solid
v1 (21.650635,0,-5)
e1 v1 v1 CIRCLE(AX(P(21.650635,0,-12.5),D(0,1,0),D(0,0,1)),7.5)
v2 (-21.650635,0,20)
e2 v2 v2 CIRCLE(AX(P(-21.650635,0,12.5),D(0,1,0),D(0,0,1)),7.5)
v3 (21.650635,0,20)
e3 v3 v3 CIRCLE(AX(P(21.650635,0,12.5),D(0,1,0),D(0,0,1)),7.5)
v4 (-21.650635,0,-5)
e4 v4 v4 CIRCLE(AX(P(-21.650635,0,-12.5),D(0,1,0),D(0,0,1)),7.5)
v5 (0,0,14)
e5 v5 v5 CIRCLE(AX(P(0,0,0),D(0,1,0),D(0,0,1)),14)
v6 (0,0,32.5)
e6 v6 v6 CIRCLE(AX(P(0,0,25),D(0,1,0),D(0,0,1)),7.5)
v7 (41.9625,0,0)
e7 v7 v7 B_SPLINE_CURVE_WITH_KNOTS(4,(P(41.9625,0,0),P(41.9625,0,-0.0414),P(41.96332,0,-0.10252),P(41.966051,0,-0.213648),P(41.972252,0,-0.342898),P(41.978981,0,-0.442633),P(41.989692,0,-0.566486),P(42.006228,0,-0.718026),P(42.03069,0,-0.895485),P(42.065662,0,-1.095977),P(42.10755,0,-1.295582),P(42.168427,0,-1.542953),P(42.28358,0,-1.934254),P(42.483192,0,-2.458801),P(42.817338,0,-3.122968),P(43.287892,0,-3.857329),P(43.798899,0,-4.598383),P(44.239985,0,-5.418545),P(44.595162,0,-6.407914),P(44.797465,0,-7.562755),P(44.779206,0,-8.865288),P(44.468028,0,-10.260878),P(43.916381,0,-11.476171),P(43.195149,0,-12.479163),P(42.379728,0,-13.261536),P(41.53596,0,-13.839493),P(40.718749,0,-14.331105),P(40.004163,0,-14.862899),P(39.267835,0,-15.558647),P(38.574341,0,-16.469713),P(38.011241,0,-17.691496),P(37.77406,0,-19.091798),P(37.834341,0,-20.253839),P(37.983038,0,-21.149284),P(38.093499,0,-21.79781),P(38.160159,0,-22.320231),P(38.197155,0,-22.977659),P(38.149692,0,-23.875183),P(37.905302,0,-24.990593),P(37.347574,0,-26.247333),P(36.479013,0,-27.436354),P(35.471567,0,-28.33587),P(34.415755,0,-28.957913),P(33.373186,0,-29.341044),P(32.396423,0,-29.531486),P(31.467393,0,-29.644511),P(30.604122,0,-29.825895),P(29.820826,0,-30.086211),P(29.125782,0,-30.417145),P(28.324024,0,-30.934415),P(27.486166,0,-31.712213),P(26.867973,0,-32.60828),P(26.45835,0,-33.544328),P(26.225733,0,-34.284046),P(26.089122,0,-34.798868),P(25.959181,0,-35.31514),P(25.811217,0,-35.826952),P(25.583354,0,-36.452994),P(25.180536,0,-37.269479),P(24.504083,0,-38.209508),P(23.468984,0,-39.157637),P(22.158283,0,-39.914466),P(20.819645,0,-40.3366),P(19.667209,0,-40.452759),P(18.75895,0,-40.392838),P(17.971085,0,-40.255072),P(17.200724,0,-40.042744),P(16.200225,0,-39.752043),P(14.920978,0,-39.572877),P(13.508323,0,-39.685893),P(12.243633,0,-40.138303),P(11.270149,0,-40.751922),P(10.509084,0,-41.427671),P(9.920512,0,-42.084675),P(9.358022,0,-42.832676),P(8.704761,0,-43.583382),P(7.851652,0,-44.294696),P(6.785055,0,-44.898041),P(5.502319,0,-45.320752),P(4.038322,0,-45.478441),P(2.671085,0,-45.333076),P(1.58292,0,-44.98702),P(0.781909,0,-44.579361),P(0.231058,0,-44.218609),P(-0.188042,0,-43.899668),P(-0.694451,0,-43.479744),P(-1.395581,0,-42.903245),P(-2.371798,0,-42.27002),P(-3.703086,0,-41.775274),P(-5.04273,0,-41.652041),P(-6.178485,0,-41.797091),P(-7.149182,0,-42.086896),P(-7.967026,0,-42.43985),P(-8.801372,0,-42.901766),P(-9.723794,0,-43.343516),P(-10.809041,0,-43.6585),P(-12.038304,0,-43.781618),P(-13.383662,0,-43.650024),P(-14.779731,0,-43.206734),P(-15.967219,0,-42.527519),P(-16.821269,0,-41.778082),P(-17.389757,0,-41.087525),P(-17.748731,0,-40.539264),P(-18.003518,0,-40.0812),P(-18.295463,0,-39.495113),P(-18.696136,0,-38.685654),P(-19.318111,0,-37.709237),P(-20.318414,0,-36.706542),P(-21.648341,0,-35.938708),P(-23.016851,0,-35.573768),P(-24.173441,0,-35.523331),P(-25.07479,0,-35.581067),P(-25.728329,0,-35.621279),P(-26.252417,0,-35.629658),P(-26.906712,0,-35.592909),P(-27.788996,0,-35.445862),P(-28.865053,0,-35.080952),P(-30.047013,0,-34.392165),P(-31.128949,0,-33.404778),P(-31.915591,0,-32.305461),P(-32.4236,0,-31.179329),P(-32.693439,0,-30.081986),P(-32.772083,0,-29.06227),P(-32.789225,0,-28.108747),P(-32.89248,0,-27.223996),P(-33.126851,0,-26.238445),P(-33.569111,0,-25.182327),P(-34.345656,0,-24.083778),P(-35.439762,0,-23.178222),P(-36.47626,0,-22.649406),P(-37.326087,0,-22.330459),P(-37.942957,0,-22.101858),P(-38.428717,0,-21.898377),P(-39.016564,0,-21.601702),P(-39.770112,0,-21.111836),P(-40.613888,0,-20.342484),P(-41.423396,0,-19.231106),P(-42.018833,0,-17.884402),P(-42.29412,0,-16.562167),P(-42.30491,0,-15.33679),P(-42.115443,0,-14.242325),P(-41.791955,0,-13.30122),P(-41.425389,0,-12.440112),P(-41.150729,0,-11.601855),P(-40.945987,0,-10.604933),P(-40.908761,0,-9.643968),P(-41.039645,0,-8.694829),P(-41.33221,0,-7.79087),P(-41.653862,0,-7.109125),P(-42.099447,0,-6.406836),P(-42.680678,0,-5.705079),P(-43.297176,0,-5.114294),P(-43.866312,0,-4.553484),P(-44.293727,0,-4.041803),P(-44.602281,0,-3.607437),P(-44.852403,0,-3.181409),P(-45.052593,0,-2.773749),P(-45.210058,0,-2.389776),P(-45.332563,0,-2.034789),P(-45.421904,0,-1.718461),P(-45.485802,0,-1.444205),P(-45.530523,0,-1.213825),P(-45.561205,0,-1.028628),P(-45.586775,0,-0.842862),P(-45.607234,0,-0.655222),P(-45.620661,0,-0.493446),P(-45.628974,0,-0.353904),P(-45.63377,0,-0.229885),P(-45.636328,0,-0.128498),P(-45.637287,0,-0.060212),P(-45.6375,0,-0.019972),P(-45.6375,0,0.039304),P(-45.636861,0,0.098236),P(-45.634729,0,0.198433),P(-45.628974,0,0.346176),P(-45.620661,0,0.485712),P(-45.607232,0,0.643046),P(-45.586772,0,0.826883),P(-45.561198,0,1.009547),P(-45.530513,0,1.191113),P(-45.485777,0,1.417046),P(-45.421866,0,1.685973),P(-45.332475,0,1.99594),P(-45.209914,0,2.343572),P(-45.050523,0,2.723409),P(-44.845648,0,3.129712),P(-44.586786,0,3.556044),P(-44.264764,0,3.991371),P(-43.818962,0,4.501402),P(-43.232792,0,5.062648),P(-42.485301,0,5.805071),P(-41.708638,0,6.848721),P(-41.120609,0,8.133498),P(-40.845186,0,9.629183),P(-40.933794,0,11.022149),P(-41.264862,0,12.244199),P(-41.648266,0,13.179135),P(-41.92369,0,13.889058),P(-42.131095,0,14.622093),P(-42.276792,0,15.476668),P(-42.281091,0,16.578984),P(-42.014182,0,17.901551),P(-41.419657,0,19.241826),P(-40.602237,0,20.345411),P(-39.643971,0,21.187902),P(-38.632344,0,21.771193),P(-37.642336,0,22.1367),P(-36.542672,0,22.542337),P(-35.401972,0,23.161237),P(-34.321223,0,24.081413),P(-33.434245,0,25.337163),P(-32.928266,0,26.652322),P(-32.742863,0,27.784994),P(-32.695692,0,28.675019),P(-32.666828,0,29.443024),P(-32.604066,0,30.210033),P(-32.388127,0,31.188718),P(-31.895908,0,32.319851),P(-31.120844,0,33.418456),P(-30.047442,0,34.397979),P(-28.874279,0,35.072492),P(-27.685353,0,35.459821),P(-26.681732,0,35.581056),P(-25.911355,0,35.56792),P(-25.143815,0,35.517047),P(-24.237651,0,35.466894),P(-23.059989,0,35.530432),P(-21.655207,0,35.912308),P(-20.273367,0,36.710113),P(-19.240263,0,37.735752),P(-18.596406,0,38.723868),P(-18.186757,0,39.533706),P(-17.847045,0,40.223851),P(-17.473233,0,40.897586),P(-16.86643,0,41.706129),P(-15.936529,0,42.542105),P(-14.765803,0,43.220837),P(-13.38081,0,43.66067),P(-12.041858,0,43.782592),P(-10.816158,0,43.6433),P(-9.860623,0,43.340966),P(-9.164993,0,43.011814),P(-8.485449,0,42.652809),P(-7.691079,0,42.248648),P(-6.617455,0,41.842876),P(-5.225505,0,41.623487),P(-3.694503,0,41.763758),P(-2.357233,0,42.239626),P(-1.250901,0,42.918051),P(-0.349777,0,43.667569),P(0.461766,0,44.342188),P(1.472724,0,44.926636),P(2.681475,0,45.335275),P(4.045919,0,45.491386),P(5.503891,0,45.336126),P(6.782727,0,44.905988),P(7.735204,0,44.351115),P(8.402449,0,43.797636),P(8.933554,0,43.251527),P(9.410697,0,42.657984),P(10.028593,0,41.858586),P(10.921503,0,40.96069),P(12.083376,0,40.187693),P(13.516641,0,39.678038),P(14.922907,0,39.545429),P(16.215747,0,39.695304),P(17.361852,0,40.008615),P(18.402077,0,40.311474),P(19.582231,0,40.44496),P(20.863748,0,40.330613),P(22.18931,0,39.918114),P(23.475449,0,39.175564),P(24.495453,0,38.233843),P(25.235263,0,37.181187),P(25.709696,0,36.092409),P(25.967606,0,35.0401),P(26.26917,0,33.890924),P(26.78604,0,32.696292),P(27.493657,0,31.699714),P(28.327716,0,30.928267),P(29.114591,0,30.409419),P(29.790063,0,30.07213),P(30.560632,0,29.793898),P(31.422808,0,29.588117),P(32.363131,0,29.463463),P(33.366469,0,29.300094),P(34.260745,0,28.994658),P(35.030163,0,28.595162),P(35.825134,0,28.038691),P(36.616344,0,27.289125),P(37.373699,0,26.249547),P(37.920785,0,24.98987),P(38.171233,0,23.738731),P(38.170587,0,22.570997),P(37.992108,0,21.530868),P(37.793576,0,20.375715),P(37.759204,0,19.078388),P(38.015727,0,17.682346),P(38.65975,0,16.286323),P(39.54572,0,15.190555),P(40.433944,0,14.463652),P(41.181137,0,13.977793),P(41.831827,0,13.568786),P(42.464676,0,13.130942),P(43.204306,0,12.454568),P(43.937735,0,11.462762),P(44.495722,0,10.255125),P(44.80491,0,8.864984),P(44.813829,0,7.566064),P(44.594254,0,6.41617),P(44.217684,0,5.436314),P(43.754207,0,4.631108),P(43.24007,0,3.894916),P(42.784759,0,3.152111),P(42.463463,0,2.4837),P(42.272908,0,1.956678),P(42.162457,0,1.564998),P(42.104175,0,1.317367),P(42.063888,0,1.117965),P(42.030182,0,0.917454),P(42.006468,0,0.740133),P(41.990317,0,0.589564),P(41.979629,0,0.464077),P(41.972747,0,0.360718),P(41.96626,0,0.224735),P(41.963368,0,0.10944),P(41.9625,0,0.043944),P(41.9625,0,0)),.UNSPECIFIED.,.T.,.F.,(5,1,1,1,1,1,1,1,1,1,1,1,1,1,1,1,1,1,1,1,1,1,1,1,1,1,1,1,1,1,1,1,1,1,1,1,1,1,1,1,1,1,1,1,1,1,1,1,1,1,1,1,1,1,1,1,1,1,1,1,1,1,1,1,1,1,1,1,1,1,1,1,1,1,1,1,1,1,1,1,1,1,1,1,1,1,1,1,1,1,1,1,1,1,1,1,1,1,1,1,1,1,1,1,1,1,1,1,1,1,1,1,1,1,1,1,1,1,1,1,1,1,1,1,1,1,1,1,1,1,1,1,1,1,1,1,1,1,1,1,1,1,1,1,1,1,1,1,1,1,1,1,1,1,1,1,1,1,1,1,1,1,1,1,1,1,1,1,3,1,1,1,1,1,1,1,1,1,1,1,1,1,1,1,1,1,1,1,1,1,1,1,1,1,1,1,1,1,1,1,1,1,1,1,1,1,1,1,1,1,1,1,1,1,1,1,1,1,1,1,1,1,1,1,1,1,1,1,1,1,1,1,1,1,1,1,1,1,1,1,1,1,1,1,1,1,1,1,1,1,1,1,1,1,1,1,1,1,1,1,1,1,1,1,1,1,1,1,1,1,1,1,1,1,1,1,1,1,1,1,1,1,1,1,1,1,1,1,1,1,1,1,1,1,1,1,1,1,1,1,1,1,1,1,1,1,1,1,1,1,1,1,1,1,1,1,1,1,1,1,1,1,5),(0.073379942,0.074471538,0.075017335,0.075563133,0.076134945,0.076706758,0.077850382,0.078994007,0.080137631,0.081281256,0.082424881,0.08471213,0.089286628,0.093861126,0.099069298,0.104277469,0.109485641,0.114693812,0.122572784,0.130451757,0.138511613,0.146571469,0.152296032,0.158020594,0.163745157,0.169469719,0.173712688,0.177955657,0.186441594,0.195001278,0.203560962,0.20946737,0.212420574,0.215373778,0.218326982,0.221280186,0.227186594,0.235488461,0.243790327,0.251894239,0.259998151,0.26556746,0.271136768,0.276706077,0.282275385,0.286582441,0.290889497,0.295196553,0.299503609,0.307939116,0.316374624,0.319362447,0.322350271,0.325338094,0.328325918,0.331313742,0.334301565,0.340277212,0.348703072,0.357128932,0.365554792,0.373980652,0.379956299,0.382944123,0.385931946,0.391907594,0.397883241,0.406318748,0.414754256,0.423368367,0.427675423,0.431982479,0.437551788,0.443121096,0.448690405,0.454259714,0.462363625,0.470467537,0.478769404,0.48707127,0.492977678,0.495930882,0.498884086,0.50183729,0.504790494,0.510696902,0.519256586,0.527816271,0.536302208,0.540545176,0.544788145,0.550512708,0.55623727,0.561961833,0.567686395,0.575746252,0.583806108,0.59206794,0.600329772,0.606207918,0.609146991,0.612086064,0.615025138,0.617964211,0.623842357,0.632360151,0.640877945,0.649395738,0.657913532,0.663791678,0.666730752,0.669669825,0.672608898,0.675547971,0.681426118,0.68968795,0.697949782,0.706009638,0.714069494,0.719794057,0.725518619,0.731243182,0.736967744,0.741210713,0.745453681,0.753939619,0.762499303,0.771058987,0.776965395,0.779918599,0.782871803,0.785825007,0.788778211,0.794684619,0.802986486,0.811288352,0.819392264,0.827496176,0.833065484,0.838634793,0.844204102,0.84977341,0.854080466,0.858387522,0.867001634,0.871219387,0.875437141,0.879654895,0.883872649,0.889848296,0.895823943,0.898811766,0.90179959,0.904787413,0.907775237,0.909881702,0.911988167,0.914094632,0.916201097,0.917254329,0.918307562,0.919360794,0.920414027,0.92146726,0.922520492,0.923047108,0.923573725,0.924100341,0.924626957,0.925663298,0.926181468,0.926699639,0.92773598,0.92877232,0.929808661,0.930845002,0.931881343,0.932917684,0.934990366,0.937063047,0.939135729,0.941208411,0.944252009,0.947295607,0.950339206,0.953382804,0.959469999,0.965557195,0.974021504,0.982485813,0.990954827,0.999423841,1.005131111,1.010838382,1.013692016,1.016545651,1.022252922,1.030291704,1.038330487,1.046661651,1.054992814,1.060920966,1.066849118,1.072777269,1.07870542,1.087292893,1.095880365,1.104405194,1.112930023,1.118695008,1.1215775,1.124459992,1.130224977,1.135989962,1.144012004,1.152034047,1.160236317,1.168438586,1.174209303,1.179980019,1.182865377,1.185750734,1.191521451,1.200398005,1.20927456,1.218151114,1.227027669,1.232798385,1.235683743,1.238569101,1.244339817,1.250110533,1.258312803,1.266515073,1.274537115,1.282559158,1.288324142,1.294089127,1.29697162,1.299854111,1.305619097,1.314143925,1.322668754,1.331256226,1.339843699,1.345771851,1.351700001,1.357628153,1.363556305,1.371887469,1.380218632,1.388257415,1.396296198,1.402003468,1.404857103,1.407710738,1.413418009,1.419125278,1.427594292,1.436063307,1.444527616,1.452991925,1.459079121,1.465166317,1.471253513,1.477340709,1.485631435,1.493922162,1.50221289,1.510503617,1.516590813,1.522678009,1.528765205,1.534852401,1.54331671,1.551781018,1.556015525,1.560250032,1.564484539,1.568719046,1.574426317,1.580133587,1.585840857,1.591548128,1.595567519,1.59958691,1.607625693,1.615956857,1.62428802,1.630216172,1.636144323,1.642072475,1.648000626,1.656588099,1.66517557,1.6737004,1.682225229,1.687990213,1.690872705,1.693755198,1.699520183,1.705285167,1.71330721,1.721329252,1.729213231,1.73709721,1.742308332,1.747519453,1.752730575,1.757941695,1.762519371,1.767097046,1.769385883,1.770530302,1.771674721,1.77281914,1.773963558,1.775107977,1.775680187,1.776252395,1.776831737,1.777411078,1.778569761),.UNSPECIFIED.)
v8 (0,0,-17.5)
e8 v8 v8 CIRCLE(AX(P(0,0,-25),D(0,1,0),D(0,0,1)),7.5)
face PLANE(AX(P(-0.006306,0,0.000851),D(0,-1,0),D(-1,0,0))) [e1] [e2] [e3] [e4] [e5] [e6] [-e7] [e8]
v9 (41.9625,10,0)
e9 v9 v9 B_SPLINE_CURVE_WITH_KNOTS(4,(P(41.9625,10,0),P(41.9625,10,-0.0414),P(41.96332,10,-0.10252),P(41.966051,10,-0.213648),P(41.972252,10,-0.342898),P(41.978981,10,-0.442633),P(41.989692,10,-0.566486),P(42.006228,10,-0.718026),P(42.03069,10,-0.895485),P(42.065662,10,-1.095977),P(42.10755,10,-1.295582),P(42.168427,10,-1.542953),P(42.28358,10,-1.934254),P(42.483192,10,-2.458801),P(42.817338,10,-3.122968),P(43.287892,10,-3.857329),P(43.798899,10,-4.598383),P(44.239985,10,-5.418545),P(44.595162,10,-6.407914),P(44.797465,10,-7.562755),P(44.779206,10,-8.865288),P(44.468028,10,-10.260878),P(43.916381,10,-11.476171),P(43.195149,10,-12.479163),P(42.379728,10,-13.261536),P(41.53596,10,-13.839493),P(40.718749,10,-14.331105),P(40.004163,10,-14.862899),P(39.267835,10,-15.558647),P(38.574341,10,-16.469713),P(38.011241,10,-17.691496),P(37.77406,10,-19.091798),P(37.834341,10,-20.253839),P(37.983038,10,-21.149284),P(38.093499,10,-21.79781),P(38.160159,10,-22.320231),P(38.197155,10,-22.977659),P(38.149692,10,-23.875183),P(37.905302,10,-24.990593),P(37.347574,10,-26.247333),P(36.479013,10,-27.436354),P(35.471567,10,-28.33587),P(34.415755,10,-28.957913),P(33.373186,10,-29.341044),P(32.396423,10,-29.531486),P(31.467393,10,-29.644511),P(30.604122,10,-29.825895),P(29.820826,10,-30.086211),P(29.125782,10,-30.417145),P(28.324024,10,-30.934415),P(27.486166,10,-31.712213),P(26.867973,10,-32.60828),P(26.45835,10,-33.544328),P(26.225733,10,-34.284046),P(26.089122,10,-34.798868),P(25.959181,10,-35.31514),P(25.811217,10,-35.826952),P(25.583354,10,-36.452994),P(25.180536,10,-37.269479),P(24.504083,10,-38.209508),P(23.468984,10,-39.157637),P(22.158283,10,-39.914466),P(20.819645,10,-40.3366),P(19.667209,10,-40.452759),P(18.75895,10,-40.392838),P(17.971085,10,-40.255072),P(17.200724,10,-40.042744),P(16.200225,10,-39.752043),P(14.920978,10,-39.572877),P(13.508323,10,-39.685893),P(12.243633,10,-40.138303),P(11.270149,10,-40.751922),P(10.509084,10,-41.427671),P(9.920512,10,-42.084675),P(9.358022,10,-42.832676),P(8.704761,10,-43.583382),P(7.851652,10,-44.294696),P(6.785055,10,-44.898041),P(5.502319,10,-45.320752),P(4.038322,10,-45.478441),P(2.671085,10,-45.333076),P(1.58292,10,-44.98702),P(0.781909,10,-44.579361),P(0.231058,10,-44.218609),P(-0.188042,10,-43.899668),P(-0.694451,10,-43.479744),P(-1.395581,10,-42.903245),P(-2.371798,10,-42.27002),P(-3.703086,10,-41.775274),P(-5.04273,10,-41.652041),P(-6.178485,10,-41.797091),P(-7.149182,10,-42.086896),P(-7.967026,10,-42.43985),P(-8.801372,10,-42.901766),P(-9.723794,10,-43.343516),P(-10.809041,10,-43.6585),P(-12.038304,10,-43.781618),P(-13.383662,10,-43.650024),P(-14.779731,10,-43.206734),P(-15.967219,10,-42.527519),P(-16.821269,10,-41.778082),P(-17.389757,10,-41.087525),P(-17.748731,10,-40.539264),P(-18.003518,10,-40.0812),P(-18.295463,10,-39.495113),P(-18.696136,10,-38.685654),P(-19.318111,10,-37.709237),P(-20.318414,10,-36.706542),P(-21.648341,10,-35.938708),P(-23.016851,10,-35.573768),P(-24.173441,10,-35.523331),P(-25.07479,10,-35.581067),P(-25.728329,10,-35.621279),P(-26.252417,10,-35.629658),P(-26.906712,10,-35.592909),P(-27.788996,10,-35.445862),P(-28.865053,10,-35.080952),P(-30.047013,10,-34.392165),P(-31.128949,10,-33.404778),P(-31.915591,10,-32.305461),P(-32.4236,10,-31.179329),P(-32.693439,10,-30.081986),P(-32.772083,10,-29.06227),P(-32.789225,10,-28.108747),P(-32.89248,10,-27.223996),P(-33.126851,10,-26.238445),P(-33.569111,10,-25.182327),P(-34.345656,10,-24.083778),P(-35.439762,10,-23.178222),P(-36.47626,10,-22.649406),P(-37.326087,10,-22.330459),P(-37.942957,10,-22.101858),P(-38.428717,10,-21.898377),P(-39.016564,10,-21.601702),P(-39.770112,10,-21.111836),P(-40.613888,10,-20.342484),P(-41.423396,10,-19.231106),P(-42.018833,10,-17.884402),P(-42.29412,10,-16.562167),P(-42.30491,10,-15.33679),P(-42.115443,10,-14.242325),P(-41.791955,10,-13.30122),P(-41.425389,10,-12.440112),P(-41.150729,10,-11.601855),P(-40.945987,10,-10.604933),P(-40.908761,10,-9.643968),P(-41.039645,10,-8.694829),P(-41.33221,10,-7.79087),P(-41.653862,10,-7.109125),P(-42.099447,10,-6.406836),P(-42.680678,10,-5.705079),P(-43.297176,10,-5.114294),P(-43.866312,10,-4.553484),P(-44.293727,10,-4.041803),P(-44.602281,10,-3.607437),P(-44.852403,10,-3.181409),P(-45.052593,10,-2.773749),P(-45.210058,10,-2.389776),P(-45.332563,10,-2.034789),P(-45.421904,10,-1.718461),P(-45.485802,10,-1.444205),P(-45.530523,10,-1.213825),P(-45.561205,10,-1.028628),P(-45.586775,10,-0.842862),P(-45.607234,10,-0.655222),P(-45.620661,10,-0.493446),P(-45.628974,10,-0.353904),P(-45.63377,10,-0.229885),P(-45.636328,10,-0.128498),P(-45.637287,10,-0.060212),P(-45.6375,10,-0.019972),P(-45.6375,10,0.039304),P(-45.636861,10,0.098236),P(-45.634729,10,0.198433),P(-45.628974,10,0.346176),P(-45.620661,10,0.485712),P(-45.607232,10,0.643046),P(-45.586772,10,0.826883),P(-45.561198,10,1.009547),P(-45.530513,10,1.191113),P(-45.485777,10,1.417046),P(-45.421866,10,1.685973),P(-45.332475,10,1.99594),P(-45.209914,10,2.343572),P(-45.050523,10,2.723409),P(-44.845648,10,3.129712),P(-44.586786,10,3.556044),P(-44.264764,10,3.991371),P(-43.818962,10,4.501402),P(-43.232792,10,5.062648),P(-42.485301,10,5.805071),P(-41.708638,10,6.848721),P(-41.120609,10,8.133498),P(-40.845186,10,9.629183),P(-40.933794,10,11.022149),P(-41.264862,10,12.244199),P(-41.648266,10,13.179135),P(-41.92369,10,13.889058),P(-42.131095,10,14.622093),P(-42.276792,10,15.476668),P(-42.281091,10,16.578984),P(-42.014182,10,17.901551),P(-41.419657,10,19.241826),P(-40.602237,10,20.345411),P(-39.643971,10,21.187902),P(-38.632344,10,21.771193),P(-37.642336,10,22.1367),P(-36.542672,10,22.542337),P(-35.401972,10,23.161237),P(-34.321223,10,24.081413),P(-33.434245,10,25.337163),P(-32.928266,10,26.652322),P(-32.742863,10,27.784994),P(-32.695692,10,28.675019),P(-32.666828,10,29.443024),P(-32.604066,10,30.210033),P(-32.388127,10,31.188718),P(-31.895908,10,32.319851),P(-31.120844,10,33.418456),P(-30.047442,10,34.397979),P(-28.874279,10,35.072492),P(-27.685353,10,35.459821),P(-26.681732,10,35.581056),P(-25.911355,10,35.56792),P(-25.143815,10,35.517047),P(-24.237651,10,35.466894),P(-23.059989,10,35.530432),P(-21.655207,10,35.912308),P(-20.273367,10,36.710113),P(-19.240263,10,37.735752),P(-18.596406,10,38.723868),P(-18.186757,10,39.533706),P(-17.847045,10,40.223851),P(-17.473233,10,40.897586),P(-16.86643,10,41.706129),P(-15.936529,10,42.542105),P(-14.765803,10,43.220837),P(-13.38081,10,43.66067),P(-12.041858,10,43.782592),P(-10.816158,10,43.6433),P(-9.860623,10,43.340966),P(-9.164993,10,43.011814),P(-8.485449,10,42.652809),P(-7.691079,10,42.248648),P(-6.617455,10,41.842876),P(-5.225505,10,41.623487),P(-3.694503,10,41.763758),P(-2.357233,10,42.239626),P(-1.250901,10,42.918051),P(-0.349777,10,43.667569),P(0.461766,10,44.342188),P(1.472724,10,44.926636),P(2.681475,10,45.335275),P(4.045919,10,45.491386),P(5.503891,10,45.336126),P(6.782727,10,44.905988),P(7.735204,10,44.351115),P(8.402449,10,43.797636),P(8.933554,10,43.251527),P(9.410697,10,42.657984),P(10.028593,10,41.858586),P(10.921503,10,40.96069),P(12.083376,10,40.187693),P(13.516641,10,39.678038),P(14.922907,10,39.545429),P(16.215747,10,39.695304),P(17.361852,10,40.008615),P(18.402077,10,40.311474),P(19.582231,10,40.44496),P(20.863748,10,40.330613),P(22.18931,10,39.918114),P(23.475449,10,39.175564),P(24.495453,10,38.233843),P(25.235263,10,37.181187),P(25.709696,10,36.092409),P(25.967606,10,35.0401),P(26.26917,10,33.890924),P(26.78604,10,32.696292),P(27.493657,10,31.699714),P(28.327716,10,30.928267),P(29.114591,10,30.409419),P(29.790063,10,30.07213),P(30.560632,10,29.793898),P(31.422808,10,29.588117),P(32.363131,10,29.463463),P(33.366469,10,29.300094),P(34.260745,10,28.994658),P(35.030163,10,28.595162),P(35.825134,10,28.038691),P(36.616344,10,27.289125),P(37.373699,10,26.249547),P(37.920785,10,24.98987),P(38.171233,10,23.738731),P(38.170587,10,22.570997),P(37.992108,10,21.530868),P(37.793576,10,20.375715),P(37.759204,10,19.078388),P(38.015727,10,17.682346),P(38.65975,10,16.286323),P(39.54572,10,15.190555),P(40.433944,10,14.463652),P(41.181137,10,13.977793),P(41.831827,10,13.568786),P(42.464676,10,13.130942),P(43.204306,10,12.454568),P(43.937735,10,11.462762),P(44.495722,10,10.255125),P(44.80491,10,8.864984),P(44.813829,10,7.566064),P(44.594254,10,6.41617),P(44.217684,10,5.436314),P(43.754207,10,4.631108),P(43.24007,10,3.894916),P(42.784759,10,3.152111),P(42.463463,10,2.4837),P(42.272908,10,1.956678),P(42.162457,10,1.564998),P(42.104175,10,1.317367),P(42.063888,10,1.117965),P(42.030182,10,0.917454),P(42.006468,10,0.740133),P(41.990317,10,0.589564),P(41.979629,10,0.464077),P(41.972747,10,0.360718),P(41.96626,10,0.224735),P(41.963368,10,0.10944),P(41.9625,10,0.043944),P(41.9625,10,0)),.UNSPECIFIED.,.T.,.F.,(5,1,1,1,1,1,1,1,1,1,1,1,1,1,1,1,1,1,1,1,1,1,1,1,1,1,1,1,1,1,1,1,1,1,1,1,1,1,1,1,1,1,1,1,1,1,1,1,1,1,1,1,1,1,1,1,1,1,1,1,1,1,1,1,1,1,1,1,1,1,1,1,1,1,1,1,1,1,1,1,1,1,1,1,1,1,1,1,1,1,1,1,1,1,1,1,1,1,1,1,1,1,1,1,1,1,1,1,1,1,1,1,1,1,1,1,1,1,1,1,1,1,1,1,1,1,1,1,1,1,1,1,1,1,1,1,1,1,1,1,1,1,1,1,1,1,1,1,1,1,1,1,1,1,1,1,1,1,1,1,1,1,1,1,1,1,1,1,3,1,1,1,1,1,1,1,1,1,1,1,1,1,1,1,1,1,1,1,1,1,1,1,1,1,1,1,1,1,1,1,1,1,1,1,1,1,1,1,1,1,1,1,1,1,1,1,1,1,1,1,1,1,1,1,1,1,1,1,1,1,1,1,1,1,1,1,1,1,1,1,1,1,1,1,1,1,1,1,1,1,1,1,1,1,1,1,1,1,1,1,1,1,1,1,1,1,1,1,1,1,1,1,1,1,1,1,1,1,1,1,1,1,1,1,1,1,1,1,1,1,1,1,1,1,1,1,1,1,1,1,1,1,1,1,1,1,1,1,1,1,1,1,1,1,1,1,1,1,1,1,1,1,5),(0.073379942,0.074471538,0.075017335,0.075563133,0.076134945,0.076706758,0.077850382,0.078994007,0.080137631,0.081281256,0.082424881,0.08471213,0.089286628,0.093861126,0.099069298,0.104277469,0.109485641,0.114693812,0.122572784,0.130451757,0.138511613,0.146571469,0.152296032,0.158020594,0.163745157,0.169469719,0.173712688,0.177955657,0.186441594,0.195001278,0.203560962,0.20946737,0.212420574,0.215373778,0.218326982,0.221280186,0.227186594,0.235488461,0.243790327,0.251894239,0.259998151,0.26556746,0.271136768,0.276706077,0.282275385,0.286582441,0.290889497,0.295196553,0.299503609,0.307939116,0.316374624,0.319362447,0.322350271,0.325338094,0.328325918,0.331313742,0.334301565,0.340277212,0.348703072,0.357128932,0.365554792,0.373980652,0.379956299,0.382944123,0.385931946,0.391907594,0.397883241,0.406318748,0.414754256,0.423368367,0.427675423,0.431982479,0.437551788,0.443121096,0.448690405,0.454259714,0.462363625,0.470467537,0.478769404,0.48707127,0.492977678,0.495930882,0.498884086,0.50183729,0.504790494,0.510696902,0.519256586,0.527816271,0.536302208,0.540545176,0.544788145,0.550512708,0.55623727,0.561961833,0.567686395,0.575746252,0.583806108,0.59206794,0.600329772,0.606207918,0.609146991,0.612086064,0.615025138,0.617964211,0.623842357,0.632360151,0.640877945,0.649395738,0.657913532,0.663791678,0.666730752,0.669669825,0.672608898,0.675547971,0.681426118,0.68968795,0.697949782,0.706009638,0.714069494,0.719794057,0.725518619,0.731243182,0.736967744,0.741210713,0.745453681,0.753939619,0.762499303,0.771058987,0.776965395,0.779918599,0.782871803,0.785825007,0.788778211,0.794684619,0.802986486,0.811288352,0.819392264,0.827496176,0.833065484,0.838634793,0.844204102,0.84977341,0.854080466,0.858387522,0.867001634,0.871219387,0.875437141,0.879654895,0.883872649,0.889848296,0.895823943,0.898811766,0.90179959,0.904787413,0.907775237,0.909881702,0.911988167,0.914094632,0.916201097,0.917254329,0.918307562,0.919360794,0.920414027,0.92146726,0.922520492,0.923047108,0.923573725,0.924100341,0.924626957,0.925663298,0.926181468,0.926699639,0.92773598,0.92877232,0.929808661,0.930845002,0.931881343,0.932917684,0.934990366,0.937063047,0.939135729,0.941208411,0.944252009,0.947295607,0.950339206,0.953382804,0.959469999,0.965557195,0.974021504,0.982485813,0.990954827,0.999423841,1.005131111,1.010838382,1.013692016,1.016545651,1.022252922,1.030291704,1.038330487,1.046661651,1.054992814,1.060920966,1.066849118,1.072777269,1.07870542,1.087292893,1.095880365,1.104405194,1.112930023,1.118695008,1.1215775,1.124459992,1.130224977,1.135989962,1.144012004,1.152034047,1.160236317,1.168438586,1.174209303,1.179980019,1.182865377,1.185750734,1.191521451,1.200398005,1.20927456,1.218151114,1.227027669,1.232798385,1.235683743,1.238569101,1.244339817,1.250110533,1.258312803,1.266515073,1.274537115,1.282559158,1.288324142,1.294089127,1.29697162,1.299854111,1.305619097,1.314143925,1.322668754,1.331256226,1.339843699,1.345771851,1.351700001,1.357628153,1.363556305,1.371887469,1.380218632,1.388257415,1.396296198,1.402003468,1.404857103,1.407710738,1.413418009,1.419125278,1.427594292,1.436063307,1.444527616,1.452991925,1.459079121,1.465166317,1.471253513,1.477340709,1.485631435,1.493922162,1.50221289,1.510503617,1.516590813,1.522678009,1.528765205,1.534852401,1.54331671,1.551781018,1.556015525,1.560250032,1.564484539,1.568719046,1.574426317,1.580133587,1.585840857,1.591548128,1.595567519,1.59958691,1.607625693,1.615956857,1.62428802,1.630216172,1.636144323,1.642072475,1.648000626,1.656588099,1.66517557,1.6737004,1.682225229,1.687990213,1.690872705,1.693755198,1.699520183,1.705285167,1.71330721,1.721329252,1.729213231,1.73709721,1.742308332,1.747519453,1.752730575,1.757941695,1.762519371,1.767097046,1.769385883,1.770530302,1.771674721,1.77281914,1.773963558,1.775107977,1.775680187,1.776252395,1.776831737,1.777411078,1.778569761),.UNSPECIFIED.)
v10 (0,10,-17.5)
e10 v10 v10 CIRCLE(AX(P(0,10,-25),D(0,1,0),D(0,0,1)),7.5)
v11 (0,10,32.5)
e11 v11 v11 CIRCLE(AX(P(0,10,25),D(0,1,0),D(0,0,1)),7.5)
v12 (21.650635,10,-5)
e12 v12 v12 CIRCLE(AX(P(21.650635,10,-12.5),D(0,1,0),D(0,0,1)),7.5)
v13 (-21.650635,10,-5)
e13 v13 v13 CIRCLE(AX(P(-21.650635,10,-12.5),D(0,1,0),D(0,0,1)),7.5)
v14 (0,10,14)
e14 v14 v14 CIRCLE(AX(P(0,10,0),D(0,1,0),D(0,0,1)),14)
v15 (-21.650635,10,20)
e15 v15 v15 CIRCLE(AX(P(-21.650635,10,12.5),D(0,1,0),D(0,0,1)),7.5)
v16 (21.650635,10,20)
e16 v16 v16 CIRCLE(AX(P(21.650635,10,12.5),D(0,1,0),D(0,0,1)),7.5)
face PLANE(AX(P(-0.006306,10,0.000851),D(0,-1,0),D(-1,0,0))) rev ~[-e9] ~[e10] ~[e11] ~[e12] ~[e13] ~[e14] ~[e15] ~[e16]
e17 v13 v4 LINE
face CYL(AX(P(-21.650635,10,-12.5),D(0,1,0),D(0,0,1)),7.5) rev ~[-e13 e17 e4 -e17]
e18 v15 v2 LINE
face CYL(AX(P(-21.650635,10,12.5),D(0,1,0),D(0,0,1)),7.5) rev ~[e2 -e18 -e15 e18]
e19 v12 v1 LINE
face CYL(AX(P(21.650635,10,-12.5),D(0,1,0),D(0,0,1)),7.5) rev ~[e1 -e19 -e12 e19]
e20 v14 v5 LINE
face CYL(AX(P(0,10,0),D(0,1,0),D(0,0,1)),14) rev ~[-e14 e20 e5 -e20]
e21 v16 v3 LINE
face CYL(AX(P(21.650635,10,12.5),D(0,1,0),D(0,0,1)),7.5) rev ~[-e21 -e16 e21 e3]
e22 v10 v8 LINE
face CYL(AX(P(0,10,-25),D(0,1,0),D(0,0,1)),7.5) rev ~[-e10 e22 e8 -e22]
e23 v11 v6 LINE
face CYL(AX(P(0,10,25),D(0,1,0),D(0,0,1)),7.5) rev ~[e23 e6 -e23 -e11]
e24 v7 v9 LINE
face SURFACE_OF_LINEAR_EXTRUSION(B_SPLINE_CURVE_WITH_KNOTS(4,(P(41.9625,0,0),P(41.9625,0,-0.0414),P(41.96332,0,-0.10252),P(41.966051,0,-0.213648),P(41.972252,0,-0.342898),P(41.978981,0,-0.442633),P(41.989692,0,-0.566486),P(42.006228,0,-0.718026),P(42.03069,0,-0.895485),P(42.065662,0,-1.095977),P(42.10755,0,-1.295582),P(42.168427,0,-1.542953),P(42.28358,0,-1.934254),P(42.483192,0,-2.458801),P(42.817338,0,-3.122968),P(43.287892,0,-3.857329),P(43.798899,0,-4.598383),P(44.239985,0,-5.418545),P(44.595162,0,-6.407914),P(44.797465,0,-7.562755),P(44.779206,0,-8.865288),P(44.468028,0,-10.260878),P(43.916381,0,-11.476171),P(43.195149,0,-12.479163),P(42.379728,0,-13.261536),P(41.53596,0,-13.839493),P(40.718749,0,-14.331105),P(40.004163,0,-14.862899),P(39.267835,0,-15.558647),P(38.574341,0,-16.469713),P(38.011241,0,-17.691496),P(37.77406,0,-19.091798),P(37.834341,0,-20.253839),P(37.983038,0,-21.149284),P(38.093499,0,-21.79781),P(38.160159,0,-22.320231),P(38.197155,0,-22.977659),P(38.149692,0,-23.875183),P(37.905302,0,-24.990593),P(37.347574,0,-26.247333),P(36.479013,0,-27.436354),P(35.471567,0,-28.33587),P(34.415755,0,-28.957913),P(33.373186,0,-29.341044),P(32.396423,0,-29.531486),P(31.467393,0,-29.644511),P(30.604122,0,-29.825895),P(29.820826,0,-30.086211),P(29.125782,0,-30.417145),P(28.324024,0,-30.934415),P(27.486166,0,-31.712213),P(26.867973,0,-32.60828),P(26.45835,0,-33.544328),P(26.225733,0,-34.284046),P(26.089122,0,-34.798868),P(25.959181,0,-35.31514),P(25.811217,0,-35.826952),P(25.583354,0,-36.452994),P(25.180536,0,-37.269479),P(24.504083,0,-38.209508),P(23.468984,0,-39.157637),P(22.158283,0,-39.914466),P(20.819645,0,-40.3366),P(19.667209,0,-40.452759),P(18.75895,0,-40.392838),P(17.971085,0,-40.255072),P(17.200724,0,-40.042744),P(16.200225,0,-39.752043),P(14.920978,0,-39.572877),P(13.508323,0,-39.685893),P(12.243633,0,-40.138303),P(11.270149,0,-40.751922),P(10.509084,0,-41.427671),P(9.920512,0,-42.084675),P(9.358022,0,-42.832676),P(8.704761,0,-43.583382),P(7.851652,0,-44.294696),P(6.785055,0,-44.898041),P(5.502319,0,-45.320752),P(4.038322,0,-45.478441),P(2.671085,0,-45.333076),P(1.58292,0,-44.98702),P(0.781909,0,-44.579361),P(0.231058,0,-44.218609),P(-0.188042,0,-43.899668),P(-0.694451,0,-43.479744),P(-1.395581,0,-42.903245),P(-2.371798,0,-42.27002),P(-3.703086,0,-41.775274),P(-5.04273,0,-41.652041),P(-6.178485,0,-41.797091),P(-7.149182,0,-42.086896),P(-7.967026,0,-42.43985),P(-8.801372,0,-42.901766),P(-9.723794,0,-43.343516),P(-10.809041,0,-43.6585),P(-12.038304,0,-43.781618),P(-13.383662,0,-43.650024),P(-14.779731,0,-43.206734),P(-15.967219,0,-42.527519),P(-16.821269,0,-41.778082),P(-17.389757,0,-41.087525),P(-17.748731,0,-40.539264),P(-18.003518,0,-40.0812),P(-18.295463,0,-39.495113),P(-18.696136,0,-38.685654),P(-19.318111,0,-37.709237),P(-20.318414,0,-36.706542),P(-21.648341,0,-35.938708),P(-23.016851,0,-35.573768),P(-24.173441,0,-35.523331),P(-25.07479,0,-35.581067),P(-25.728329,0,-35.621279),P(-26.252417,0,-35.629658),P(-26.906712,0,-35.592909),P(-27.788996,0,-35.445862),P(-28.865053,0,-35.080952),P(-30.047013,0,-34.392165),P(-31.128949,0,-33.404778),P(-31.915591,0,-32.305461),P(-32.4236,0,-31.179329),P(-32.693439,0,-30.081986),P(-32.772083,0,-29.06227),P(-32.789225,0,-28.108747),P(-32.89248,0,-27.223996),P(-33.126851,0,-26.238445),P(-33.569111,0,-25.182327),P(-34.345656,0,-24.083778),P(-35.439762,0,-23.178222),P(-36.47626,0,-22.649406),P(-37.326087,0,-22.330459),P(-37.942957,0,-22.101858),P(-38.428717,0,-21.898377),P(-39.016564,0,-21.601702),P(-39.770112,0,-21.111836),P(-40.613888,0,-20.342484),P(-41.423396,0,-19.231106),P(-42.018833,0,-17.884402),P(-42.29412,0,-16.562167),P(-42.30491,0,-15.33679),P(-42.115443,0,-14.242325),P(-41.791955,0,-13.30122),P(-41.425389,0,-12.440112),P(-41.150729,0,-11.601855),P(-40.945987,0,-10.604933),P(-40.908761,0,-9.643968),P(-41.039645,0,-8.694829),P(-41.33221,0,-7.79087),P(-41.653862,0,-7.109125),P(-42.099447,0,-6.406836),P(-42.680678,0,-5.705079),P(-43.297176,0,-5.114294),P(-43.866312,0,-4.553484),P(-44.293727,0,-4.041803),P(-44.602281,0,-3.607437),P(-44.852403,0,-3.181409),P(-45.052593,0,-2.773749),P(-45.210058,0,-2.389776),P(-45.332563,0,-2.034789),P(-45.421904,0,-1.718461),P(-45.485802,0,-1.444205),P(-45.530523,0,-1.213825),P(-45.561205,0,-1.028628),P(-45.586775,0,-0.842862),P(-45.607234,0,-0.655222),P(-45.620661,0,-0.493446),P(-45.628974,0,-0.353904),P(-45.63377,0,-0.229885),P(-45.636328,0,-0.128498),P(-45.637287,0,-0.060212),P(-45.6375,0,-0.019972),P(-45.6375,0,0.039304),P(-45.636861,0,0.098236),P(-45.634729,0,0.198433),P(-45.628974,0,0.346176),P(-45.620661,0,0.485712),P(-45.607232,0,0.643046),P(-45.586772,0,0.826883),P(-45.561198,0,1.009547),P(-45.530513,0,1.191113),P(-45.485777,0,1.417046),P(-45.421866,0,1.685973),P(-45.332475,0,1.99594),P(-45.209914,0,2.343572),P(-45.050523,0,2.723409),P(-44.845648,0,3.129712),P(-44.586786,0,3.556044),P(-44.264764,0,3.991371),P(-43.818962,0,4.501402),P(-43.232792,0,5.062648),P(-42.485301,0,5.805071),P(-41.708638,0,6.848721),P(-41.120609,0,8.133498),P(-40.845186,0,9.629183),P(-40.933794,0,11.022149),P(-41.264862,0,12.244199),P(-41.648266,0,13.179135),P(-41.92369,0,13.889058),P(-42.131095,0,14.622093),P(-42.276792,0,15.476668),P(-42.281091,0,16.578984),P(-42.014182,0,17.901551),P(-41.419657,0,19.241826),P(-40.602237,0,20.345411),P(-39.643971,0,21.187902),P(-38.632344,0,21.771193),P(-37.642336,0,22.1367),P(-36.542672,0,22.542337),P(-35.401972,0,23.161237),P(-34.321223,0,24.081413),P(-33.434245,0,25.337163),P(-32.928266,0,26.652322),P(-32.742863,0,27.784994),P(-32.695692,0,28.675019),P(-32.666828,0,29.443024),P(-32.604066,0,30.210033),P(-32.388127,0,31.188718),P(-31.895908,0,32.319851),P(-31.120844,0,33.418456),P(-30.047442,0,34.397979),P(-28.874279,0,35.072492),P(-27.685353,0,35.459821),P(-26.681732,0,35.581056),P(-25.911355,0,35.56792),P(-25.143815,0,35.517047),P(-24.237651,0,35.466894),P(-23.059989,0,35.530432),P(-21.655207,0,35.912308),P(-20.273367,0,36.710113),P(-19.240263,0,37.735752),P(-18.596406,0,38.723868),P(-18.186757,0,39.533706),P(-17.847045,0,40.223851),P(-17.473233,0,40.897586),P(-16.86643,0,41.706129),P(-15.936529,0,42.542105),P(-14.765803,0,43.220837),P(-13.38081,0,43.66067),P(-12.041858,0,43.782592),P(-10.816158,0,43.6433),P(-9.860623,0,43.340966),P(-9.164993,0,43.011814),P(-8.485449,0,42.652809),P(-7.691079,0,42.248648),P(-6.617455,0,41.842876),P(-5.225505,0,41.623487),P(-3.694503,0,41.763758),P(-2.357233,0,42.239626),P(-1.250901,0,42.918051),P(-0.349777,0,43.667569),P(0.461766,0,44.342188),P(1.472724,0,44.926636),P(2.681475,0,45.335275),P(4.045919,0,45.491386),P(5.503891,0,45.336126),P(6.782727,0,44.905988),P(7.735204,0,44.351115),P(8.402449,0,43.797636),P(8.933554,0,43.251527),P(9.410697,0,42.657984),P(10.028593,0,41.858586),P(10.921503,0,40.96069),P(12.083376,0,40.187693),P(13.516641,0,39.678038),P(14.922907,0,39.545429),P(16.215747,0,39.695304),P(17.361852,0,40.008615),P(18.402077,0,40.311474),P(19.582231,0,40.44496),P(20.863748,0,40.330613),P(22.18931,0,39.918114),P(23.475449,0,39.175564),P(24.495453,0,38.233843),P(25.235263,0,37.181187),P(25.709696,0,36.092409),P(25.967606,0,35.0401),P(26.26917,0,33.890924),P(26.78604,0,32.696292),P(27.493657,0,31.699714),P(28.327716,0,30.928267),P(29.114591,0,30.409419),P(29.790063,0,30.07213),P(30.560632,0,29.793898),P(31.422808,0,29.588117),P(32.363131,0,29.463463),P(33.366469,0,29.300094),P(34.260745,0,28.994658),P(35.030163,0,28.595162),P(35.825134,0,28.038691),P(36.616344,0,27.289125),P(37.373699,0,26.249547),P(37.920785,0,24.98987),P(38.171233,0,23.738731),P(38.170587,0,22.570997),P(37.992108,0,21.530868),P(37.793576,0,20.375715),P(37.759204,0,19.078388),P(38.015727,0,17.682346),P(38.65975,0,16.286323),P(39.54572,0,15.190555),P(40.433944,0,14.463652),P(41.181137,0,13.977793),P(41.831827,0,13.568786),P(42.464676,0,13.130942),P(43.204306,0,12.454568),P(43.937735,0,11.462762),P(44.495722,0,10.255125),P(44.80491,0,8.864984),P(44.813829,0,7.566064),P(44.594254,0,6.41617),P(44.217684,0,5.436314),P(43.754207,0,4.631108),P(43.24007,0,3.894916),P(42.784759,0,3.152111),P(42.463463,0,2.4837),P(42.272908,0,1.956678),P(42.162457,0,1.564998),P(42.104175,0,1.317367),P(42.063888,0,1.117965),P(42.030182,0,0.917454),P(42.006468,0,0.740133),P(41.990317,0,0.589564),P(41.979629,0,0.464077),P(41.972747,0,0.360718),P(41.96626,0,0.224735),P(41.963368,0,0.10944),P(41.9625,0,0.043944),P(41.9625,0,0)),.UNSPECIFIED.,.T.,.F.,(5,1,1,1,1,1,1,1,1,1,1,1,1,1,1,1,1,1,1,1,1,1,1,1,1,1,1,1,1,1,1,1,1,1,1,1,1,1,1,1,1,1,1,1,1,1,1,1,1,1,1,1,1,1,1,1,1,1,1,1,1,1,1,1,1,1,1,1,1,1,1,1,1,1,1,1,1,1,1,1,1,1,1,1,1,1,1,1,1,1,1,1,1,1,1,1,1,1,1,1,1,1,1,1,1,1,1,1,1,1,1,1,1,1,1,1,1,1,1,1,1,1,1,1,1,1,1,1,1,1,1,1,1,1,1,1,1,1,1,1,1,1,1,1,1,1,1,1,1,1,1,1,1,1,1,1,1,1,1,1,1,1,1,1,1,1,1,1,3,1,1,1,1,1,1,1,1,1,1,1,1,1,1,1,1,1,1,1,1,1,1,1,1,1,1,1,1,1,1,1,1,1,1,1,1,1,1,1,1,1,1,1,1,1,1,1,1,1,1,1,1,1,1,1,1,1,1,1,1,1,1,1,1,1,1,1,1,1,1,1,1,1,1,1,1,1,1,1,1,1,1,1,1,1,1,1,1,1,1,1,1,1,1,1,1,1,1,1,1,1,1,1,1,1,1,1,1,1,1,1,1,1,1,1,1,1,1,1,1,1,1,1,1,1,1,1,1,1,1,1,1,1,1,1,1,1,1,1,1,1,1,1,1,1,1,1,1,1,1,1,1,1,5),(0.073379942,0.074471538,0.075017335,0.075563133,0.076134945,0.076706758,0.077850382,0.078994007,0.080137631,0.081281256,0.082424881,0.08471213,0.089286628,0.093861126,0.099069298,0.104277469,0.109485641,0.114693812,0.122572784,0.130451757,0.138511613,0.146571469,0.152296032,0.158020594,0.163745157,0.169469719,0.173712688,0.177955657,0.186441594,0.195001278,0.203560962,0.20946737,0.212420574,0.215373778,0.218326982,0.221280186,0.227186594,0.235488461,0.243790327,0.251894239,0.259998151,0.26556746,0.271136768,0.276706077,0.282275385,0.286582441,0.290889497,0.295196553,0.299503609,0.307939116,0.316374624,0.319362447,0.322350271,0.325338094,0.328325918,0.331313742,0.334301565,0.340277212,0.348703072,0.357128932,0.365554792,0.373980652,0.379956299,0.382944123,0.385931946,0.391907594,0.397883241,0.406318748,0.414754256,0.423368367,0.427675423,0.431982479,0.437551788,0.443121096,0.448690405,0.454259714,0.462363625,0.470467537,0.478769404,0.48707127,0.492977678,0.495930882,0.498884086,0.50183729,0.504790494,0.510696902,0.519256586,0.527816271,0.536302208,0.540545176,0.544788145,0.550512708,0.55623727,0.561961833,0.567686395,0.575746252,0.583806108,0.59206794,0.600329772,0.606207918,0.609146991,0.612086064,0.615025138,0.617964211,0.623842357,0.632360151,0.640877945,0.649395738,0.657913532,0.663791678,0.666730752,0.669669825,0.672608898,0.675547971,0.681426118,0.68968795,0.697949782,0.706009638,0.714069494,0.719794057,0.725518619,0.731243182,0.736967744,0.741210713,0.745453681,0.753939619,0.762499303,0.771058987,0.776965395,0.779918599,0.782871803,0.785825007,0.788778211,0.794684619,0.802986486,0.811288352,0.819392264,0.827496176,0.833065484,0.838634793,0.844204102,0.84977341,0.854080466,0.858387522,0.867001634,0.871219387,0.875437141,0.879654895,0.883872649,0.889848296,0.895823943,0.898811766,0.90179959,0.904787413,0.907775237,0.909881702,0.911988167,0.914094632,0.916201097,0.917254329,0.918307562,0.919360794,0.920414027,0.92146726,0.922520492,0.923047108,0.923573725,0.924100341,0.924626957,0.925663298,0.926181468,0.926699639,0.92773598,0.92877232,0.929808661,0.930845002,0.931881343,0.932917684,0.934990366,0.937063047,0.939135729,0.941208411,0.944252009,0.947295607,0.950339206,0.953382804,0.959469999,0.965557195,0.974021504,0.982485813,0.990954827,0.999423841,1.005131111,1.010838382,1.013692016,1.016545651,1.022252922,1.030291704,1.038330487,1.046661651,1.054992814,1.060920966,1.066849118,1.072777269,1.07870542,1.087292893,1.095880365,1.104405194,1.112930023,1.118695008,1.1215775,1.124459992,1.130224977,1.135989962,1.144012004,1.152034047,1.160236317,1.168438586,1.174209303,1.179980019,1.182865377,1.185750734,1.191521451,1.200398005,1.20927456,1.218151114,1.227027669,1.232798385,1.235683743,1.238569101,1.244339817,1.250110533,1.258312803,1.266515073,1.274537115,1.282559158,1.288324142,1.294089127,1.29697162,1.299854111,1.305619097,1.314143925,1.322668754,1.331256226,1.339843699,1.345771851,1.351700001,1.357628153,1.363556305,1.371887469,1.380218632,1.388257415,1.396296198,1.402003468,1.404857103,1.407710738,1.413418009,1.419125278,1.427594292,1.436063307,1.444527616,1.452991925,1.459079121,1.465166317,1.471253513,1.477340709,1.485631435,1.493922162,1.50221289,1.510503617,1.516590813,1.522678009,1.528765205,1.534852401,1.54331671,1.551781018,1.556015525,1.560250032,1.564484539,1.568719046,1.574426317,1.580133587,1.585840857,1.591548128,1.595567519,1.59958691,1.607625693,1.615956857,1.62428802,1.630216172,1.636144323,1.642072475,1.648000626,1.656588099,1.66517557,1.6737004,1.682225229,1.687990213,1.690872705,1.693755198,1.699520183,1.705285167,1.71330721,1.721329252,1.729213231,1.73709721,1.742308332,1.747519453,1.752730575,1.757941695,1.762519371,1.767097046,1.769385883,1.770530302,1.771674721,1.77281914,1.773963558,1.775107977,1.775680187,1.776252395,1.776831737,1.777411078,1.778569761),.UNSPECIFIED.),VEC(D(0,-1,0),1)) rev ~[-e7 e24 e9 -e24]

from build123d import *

# Parameters (mm, degrees)
BOSS_EXTRUDE1_DEPTH = 10
SKETCH2_R           = 14
SKETCH2_R_2         = 7.5
CUT_EXTRUDE1_DEPTH  = 10


with BuildPart() as part:
    # Sketch1 → Boss-Extrude1 (new body)
    with BuildSketch(Plane(origin=(0, 0, 0), x_dir=(1, 0, 0), z_dir=(0, 1, 0))):
        with BuildLine():
            add(Edge.make_bspline(
                [(41.9625, 1e-09), (41.9625, -0.043943873), (41.963367709, -0.109440453), (41.966260084, -0.224734633), (41.972746873, -0.36071755), (41.979628779, -0.464076704), (41.990317251, -0.589563509), (42.006468165, -0.740132558), (42.030181905, -0.917454492), (42.063888039, -1.117965428), (42.104174894, -1.317367325), (42.16245681, -1.56499836), (42.272908492, -1.95667752), (42.463462552, -2.483700229), (42.78475924, -3.15211118), (43.240069733, -3.894915583), (43.754206937, -4.631107729), (44.217683591, -5.43631391), (44.59425446, -6.416170377), (44.813828894, -7.566064191), (44.804910224, -8.8649839), (44.495722392, -10.255125061), (43.937735053, -11.462762187), (43.204306155, -12.454567878), (42.464676244, -13.13094188), (41.831827284, -13.568785947), (41.181137191, -13.977792949), (40.433944339, -14.463652215), (39.545720243, -15.1905553), (38.659749779, -16.286323315), (38.015727373, -17.682345681), (37.759204143, -19.078388465), (37.79357568, -20.375714824), (37.992107593, -21.53086764), (38.170587222, -22.570996955), (38.171232832, -23.738731157), (37.920784816, -24.989869535), (37.373699001, -26.249547163), (36.616344093, -27.289124743), (35.825134221, -28.038691113), (35.030162952, -28.595162093), (34.260745427, -28.994657539), (33.366468937, -29.30009381), (32.363131132, -29.463463415), (31.422807967, -29.58811716), (30.56063248, -29.793898137), (29.790062739, -30.072130191), (29.114590519, -30.409419343), (28.327715723, -30.928266557), (27.493656586, -31.699713744), (26.7860405, -32.696292266), (26.269170332, -33.890923871), (25.96760591, -35.040099508), (25.709695601, -36.092408745), (25.235262526, -37.181186728), (24.495453113, -38.233843144), (23.475448902, -39.175564288), (22.189309832, -39.918113505), (20.863748447, -40.330613061), (19.582230515, -40.444960305), (18.402077087, -40.311473972), (17.361851919, -40.008614506), (16.215746772, -39.695303885), (14.92290708, -39.545428787), (13.516641017, -39.678037959), (12.083375515, -40.187693493), (10.921503061, -40.960689897), (10.028593245, -41.858586236), (9.41069706, -42.657983885), (8.933554165, -43.251527228), (8.402449476, -43.797636323), (7.735204115, -44.351115071), (6.782726817, -44.905987717), (5.503890846, -45.336126395), (4.045919243, -45.49138646), (2.68147496, -45.335274627), (1.47272414, -44.926636437), (0.461765505, -44.342188236), (-0.349776814, -43.667569214), (-1.250900544, -42.918051169), (-2.357233156, -42.239625817), (-3.694503356, -41.763757654), (-5.225504507, -41.623487389), (-6.61745467, -41.842876179), (-7.691079472, -42.248648215), (-8.485448788, -42.652809187), (-9.16499251, -43.011814442), (-9.860622715, -43.340965902), (-10.816158401, -43.643299887), (-12.041858003, -43.782591962), (-13.380809629, -43.660669867), (-14.765803026, -43.220837448), (-15.936529485, -42.542105079), (-16.866429737, -41.706129414), (-17.473232553, -40.897585706), (-17.847045079, -40.223851482), (-18.18675731, -39.533706002), (-18.596406156, -38.723868191), (-19.240262657, -37.735752464), (-20.273367286, -36.710113324), (-21.655207072, -35.912307751), (-23.059988937, -35.530432468), (-24.237650509, -35.466894245), (-25.143815049, -35.517046844), (-25.911354682, -35.567920161), (-26.681731899, -35.58105613), (-27.685352698, -35.45982133), (-28.874278987, -35.072491921), (-30.047441691, -34.397979251), (-31.120844437, -33.418455996), (-31.895907882, -32.319850919), (-32.388127208, -31.188717892), (-32.604066138, -30.210032717), (-32.666827717, -29.443023564), (-32.695691903, -28.675018798), (-32.742862901, -27.784994328), (-32.928266394, -26.652321919), (-33.434245234, -25.337163377), (-34.321223388, -24.08141254), (-35.401972459, -23.161236779), (-36.542672266, -22.542337102), (-37.64233595, -22.136700437), (-38.632344068, -21.771193092), (-39.643970781, -21.187902284), (-40.602236578, -20.345410902), (-41.419656633, -19.241825982), (-42.014181502, -17.901551355), (-42.281091363, -16.578984361), (-42.27679159, -15.476667702), (-42.131094623, -14.622093298), (-41.923689562, -13.889058041), (-41.648265739, -13.179134835), (-41.264862411, -12.244198763), (-40.93379364, -11.022149063), (-40.845185542, -9.629182831), (-41.120609234, -8.133498206), (-41.708638421, -6.848721004), (-42.485300802, -5.805071484), (-43.232792198, -5.062648252), (-43.818961891, -4.501401749), (-44.26476402, -3.991371461), (-44.58678631, -3.55604387), (-44.845648259, -3.129712348), (-45.050522972, -2.723409275), (-45.20991406, -2.343572324), (-45.332474786, -1.995940011), (-45.421866074, -1.685972791), (-45.485777172, -1.417045993), (-45.530513031, -1.19111257), (-45.561198423, -1.009546849), (-45.586771757, -0.826883397), (-45.607232368, -0.64304574), (-45.620660595, -0.48571169), (-45.628973615, -0.346175955), (-45.634728892, -0.198433203), (-45.636860514, -0.098235553), (-45.6375, -0.039303978), (-45.6375, 1e-09)],
                knots=[0.072058044, 0.072058044, 0.072058044, 0.072058044, 0.072058044, 0.07321599, 0.073794963, 0.074373936, 0.074945781, 0.075517627, 0.076661318, 0.077805009, 0.0789487, 0.080092392, 0.081236083, 0.083523465, 0.08809823, 0.092672995, 0.097880803, 0.103088612, 0.10829642, 0.113504229, 0.121383195, 0.129262162, 0.137279104, 0.145296047, 0.151057366, 0.156818686, 0.159699346, 0.162580006, 0.168341325, 0.176860734, 0.185380144, 0.193962156, 0.202544169, 0.208468552, 0.214392935, 0.220317317, 0.2262417, 0.234567567, 0.242893434, 0.250927106, 0.254943942, 0.258960778, 0.26466442, 0.270368062, 0.276071704, 0.281775346, 0.286007161, 0.290238976, 0.294470791, 0.298702606, 0.307161533, 0.315620461, 0.321703787, 0.327787113, 0.333870439, 0.339953765, 0.348239221, 0.356524678, 0.364810134, 0.37309559, 0.379178916, 0.385262242, 0.391345568, 0.397428894, 0.405887822, 0.414346749, 0.42281038, 0.43127401, 0.436977651, 0.442681293, 0.445533114, 0.448384935, 0.454088577, 0.462122249, 0.470155921, 0.478481788, 0.486807655, 0.492732038, 0.498656421, 0.504580803, 0.510505186, 0.519087199, 0.527669212, 0.536188621, 0.54470803, 0.55046935, 0.553350009, 0.556230669, 0.561991989, 0.567753308, 0.575770251, 0.583787193, 0.591984249, 0.600181304, 0.605948351, 0.611715399, 0.614598922, 0.617482446, 0.623249493, 0.632120405, 0.640991316, 0.649862227, 0.658733138, 0.664500186, 0.667383709, 0.670267233, 0.67603428, 0.681801328, 0.689998383, 0.698195438, 0.706212381, 0.714229323, 0.719990643, 0.725751963, 0.728632622, 0.731513282, 0.737274602, 0.745794011, 0.75431342, 0.762895433, 0.771477446, 0.777401828, 0.783326211, 0.789250594, 0.795174977, 0.803500844, 0.811826711, 0.819860383, 0.827894055, 0.833597697, 0.836449518, 0.839301338, 0.84500498, 0.850708622, 0.859172252, 0.867635882, 0.87609481, 0.884553737, 0.890637063, 0.896720389, 0.899762052, 0.902803716, 0.905845379, 0.908887042, 0.910958406, 0.91302977, 0.915101134, 0.917172498, 0.91820818, 0.919243862, 0.920279544, 0.921315226, 0.922350908, 0.92338659, 0.923904431, 0.924422272, 0.925457954, 0.925457954, 0.925457954, 0.925457954, 0.925457954], degree=4))
            add(Edge.make_bspline(
                [(41.9625, 1e-09), (41.9625, 0.041399527), (41.963319569, 0.102520256), (41.966051474, 0.213647882), (41.972251946, 0.342898133), (41.978981383, 0.442632555), (41.98969214, 0.566486306), (42.006228418, 0.718026369), (42.030689609, 0.895484754), (42.0656621, 1.095976646), (42.107549665, 1.29558187), (42.168427199, 1.542952915), (42.283580394, 1.934253617), (42.483191693, 2.458801442), (42.817337587, 3.122968413), (43.287891626, 3.857329347), (43.79889861, 4.598382564), (44.239985062, 5.418545277), (44.595162003, 6.40791418), (44.797465154, 7.562754841), (44.77920624, 8.865288084), (44.468028435, 10.260877778), (43.916381033, 11.476170721), (43.195149299, 12.47916318), (42.37972764, 13.261536494), (41.53595972, 13.839492583), (40.718749073, 14.331105222), (40.004163221, 14.862899252), (39.267834684, 15.558646985), (38.574340946, 16.46971336), (38.011241403, 17.691496315), (37.774059834, 19.091797906), (37.834341062, 20.253839274), (37.983038182, 21.149284443), (38.093499086, 21.797810447), (38.160159286, 22.320231358), (38.197154858, 22.977659301), (38.14969249, 23.875183458), (37.905302473, 24.9905926), (37.347574403, 26.247333051), (36.479012888, 27.436353664), (35.471567007, 28.33586962), (34.415755466, 28.957913373), (33.373185929, 29.341043626), (32.396423496, 29.531486114), (31.467393339, 29.64451055), (30.604122286, 29.825895231), (29.820825654, 30.086210598), (29.125782272, 30.41714466), (28.324024474, 30.934415308), (27.486165662, 31.712213021), (26.867973347, 32.608280456), (26.458350084, 33.544327948), (26.22573326, 34.284045747), (26.089122378, 34.798867731), (25.959180736, 35.315140323), (25.811217386, 35.826952333), (25.583354222, 36.452993741), (25.180536013, 37.269478711), (24.504082846, 38.209507564), (23.468984114, 39.157636943), (22.158283029, 39.914465633), (20.819644557, 40.336599535), (19.667209322, 40.452758647), (18.75895026, 40.392837588), (17.971085215, 40.255071559), (17.200724459, 40.042744386), (16.200224767, 39.752042958), (14.920978324, 39.57287714), (13.508323203, 39.685892672), (12.243632859, 40.138303131), (11.270148788, 40.751921596), (10.50908436, 41.427670899), (9.920511603, 42.084674827), (9.358021552, 42.832675831), (8.704761381, 43.583382123), (7.851652183, 44.294695851), (6.785054871, 44.898041192), (5.502319301, 45.32075213), (4.038322341, 45.4784413), (2.671085194, 45.333075634), (1.58292014, 44.987020416), (0.781908664, 44.579361126), (0.231058142, 44.218608552), (-0.188042214, 43.899668373), (-0.69445128, 43.479743548), (-1.395581442, 42.903245465), (-2.371797625, 42.27001964), (-3.703085869, 41.775274251), (-5.042729782, 41.652041056), (-6.178484541, 41.797091398), (-7.149182028, 42.086896202), (-7.967026496, 42.439849915), (-8.801372188, 42.90176635), (-9.723794006, 43.343516467), (-10.809040666, 43.658500225), (-12.038304185, 43.781617783), (-13.383661679, 43.650023751), (-14.779731493, 43.206733827), (-15.96721942, 42.527519457), (-16.821269139, 41.7780825), (-17.389757135, 41.087525195), (-17.748730694, 40.539263674), (-18.003517734, 40.081200397), (-18.295463184, 39.495113003), (-18.696136021, 38.685654291), (-19.318110865, 37.709236687), (-20.318413796, 36.706542424), (-21.648341326, 35.938708406), (-23.016851495, 35.573767788), (-24.173441367, 35.523330575), (-25.074789594, 35.581067075), (-25.72832889, 35.621278597), (-26.252416845, 35.629658185), (-26.906712029, 35.592908725), (-27.788996196, 35.445862331), (-28.8650525, 35.080952057), (-30.047013361, 34.39216453), (-31.128948604, 33.404777568), (-31.915591126, 32.305460817), (-32.423599952, 31.179328602), (-32.693439346, 30.081985546), (-32.772083431, 29.062269761), (-32.789224912, 28.108746977), (-32.892480261, 27.223996038), (-33.126850686, 26.238444949), (-33.569110778, 25.18232731), (-34.345655823, 24.083778236), (-35.439762003, 23.178221509), (-36.476259772, 22.64940638), (-37.326086795, 22.330458935), (-37.942956972, 22.10185815), (-38.428717301, 21.898376838), (-39.016563692, 21.601702333), (-39.770112348, 21.11183609), (-40.613888124, 20.342484452), (-41.423396084, 19.231106197), (-42.018833179, 17.88440155), (-42.294120345, 16.562166794), (-42.304910097, 15.33679012), (-42.115443046, 14.242325153), (-41.791954511, 13.301219534), (-41.425388756, 12.440111975), (-41.150729145, 11.601854766), (-40.945987304, 10.60493265), (-40.90876061, 9.643968493), (-41.039644958, 8.694828961), (-41.332209889, 7.790869834), (-41.653861778, 7.109124808), (-42.09944733, 6.406836478), (-42.680678199, 5.705079427), (-43.297176434, 5.114294066), (-43.866312005, 4.553483744), (-44.293727436, 4.041803063), (-44.60228141, 3.607436823), (-44.852403209, 3.181409337), (-45.052593084, 2.773748911), (-45.210057943, 2.389776348), (-45.332562889, 2.034789113), (-45.421903761, 1.718460959), (-45.485801959, 1.444205058), (-45.530523405, 1.213824508), (-45.5612053, 1.028628416), (-45.58677461, 0.8428618), (-45.60723363, 0.655222376), (-45.62066111, 0.493445818), (-45.62897382, 0.353903973), (-45.633769753, 0.229885301), (-45.636327628, 0.128497944), (-45.637286842, 0.060211726), (-45.6375, 0.019972295), (-45.6375, 1e-09)],
                knots=[0.073379942, 0.073379942, 0.073379942, 0.073379942, 0.073379942, 0.074471538, 0.075017335, 0.075563133, 0.076134945, 0.076706758, 0.077850382, 0.078994007, 0.080137631, 0.081281256, 0.082424881, 0.08471213, 0.089286628, 0.093861126, 0.099069298, 0.104277469, 0.109485641, 0.114693812, 0.122572784, 0.130451757, 0.138511613, 0.146571469, 0.152296032, 0.158020594, 0.163745157, 0.169469719, 0.173712688, 0.177955657, 0.186441594, 0.195001278, 0.203560962, 0.20946737, 0.212420574, 0.215373778, 0.218326982, 0.221280186, 0.227186594, 0.235488461, 0.243790327, 0.251894239, 0.259998151, 0.26556746, 0.271136768, 0.276706077, 0.282275385, 0.286582441, 0.290889497, 0.295196553, 0.299503609, 0.307939116, 0.316374624, 0.319362447, 0.322350271, 0.325338094, 0.328325918, 0.331313742, 0.334301565, 0.340277212, 0.348703072, 0.357128932, 0.365554792, 0.373980652, 0.379956299, 0.382944123, 0.385931946, 0.391907594, 0.397883241, 0.406318748, 0.414754256, 0.423368367, 0.427675423, 0.431982479, 0.437551788, 0.443121096, 0.448690405, 0.454259714, 0.462363625, 0.470467537, 0.478769404, 0.48707127, 0.492977678, 0.495930882, 0.498884086, 0.50183729, 0.504790494, 0.510696902, 0.519256586, 0.527816271, 0.536302208, 0.540545176, 0.544788145, 0.550512708, 0.55623727, 0.561961833, 0.567686395, 0.575746252, 0.583806108, 0.59206794, 0.600329772, 0.606207918, 0.609146991, 0.612086064, 0.615025138, 0.617964211, 0.623842357, 0.632360151, 0.640877945, 0.649395738, 0.657913532, 0.663791678, 0.666730752, 0.669669825, 0.672608898, 0.675547971, 0.681426118, 0.68968795, 0.697949782, 0.706009638, 0.714069494, 0.719794057, 0.725518619, 0.731243182, 0.736967744, 0.741210713, 0.745453681, 0.753939619, 0.762499303, 0.771058987, 0.776965395, 0.779918599, 0.782871803, 0.785825007, 0.788778211, 0.794684619, 0.802986486, 0.811288352, 0.819392264, 0.827496176, 0.833065484, 0.838634793, 0.844204102, 0.84977341, 0.854080466, 0.858387522, 0.867001634, 0.871219387, 0.875437141, 0.879654895, 0.883872649, 0.889848296, 0.895823943, 0.898811766, 0.90179959, 0.904787413, 0.907775237, 0.909881702, 0.911988167, 0.914094632, 0.916201097, 0.917254329, 0.918307562, 0.919360794, 0.920414027, 0.92146726, 0.922520492, 0.923047108, 0.923573725, 0.924100341, 0.924626957, 0.924626957, 0.924626957, 0.924626957, 0.924626957], degree=4))
        make_face()
    extrude(amount=BOSS_EXTRUDE1_DEPTH)

    # Sketch2 → Cut-Extrude1 (cut)
    with BuildSketch(Plane(origin=(0, 10, 0), x_dir=(1, 0, 0), z_dir=(0, 1, 0))):
        with Locations(Location((0, 0, 0), (0, 0, 270))):
            Circle(SKETCH2_R)
        with Locations(Location((0, 25, 0), (0, 0, 270))):
            Circle(SKETCH2_R_2)
        with Locations(Location((21.650635095, 12.5, 0), (0, 0, 270))):
            Circle(SKETCH2_R_2)
        with Locations(Location((21.650635095, -12.5, 0), (0, 0, 270))):
            Circle(SKETCH2_R_2)
        with Locations(Location((0, -25, 0), (0, 0, 270))):
            Circle(SKETCH2_R_2)
        with Locations(Location((-21.650635095, -12.5, 0), (0, 0, 270))):
            Circle(SKETCH2_R_2)
        with Locations(Location((-21.650635095, 12.5, 0), (0, 0, 270))):
            Circle(SKETCH2_R_2)
    extrude(amount=-CUT_EXTRUDE1_DEPTH, mode=Mode.SUBTRACT)


solid = part.part
